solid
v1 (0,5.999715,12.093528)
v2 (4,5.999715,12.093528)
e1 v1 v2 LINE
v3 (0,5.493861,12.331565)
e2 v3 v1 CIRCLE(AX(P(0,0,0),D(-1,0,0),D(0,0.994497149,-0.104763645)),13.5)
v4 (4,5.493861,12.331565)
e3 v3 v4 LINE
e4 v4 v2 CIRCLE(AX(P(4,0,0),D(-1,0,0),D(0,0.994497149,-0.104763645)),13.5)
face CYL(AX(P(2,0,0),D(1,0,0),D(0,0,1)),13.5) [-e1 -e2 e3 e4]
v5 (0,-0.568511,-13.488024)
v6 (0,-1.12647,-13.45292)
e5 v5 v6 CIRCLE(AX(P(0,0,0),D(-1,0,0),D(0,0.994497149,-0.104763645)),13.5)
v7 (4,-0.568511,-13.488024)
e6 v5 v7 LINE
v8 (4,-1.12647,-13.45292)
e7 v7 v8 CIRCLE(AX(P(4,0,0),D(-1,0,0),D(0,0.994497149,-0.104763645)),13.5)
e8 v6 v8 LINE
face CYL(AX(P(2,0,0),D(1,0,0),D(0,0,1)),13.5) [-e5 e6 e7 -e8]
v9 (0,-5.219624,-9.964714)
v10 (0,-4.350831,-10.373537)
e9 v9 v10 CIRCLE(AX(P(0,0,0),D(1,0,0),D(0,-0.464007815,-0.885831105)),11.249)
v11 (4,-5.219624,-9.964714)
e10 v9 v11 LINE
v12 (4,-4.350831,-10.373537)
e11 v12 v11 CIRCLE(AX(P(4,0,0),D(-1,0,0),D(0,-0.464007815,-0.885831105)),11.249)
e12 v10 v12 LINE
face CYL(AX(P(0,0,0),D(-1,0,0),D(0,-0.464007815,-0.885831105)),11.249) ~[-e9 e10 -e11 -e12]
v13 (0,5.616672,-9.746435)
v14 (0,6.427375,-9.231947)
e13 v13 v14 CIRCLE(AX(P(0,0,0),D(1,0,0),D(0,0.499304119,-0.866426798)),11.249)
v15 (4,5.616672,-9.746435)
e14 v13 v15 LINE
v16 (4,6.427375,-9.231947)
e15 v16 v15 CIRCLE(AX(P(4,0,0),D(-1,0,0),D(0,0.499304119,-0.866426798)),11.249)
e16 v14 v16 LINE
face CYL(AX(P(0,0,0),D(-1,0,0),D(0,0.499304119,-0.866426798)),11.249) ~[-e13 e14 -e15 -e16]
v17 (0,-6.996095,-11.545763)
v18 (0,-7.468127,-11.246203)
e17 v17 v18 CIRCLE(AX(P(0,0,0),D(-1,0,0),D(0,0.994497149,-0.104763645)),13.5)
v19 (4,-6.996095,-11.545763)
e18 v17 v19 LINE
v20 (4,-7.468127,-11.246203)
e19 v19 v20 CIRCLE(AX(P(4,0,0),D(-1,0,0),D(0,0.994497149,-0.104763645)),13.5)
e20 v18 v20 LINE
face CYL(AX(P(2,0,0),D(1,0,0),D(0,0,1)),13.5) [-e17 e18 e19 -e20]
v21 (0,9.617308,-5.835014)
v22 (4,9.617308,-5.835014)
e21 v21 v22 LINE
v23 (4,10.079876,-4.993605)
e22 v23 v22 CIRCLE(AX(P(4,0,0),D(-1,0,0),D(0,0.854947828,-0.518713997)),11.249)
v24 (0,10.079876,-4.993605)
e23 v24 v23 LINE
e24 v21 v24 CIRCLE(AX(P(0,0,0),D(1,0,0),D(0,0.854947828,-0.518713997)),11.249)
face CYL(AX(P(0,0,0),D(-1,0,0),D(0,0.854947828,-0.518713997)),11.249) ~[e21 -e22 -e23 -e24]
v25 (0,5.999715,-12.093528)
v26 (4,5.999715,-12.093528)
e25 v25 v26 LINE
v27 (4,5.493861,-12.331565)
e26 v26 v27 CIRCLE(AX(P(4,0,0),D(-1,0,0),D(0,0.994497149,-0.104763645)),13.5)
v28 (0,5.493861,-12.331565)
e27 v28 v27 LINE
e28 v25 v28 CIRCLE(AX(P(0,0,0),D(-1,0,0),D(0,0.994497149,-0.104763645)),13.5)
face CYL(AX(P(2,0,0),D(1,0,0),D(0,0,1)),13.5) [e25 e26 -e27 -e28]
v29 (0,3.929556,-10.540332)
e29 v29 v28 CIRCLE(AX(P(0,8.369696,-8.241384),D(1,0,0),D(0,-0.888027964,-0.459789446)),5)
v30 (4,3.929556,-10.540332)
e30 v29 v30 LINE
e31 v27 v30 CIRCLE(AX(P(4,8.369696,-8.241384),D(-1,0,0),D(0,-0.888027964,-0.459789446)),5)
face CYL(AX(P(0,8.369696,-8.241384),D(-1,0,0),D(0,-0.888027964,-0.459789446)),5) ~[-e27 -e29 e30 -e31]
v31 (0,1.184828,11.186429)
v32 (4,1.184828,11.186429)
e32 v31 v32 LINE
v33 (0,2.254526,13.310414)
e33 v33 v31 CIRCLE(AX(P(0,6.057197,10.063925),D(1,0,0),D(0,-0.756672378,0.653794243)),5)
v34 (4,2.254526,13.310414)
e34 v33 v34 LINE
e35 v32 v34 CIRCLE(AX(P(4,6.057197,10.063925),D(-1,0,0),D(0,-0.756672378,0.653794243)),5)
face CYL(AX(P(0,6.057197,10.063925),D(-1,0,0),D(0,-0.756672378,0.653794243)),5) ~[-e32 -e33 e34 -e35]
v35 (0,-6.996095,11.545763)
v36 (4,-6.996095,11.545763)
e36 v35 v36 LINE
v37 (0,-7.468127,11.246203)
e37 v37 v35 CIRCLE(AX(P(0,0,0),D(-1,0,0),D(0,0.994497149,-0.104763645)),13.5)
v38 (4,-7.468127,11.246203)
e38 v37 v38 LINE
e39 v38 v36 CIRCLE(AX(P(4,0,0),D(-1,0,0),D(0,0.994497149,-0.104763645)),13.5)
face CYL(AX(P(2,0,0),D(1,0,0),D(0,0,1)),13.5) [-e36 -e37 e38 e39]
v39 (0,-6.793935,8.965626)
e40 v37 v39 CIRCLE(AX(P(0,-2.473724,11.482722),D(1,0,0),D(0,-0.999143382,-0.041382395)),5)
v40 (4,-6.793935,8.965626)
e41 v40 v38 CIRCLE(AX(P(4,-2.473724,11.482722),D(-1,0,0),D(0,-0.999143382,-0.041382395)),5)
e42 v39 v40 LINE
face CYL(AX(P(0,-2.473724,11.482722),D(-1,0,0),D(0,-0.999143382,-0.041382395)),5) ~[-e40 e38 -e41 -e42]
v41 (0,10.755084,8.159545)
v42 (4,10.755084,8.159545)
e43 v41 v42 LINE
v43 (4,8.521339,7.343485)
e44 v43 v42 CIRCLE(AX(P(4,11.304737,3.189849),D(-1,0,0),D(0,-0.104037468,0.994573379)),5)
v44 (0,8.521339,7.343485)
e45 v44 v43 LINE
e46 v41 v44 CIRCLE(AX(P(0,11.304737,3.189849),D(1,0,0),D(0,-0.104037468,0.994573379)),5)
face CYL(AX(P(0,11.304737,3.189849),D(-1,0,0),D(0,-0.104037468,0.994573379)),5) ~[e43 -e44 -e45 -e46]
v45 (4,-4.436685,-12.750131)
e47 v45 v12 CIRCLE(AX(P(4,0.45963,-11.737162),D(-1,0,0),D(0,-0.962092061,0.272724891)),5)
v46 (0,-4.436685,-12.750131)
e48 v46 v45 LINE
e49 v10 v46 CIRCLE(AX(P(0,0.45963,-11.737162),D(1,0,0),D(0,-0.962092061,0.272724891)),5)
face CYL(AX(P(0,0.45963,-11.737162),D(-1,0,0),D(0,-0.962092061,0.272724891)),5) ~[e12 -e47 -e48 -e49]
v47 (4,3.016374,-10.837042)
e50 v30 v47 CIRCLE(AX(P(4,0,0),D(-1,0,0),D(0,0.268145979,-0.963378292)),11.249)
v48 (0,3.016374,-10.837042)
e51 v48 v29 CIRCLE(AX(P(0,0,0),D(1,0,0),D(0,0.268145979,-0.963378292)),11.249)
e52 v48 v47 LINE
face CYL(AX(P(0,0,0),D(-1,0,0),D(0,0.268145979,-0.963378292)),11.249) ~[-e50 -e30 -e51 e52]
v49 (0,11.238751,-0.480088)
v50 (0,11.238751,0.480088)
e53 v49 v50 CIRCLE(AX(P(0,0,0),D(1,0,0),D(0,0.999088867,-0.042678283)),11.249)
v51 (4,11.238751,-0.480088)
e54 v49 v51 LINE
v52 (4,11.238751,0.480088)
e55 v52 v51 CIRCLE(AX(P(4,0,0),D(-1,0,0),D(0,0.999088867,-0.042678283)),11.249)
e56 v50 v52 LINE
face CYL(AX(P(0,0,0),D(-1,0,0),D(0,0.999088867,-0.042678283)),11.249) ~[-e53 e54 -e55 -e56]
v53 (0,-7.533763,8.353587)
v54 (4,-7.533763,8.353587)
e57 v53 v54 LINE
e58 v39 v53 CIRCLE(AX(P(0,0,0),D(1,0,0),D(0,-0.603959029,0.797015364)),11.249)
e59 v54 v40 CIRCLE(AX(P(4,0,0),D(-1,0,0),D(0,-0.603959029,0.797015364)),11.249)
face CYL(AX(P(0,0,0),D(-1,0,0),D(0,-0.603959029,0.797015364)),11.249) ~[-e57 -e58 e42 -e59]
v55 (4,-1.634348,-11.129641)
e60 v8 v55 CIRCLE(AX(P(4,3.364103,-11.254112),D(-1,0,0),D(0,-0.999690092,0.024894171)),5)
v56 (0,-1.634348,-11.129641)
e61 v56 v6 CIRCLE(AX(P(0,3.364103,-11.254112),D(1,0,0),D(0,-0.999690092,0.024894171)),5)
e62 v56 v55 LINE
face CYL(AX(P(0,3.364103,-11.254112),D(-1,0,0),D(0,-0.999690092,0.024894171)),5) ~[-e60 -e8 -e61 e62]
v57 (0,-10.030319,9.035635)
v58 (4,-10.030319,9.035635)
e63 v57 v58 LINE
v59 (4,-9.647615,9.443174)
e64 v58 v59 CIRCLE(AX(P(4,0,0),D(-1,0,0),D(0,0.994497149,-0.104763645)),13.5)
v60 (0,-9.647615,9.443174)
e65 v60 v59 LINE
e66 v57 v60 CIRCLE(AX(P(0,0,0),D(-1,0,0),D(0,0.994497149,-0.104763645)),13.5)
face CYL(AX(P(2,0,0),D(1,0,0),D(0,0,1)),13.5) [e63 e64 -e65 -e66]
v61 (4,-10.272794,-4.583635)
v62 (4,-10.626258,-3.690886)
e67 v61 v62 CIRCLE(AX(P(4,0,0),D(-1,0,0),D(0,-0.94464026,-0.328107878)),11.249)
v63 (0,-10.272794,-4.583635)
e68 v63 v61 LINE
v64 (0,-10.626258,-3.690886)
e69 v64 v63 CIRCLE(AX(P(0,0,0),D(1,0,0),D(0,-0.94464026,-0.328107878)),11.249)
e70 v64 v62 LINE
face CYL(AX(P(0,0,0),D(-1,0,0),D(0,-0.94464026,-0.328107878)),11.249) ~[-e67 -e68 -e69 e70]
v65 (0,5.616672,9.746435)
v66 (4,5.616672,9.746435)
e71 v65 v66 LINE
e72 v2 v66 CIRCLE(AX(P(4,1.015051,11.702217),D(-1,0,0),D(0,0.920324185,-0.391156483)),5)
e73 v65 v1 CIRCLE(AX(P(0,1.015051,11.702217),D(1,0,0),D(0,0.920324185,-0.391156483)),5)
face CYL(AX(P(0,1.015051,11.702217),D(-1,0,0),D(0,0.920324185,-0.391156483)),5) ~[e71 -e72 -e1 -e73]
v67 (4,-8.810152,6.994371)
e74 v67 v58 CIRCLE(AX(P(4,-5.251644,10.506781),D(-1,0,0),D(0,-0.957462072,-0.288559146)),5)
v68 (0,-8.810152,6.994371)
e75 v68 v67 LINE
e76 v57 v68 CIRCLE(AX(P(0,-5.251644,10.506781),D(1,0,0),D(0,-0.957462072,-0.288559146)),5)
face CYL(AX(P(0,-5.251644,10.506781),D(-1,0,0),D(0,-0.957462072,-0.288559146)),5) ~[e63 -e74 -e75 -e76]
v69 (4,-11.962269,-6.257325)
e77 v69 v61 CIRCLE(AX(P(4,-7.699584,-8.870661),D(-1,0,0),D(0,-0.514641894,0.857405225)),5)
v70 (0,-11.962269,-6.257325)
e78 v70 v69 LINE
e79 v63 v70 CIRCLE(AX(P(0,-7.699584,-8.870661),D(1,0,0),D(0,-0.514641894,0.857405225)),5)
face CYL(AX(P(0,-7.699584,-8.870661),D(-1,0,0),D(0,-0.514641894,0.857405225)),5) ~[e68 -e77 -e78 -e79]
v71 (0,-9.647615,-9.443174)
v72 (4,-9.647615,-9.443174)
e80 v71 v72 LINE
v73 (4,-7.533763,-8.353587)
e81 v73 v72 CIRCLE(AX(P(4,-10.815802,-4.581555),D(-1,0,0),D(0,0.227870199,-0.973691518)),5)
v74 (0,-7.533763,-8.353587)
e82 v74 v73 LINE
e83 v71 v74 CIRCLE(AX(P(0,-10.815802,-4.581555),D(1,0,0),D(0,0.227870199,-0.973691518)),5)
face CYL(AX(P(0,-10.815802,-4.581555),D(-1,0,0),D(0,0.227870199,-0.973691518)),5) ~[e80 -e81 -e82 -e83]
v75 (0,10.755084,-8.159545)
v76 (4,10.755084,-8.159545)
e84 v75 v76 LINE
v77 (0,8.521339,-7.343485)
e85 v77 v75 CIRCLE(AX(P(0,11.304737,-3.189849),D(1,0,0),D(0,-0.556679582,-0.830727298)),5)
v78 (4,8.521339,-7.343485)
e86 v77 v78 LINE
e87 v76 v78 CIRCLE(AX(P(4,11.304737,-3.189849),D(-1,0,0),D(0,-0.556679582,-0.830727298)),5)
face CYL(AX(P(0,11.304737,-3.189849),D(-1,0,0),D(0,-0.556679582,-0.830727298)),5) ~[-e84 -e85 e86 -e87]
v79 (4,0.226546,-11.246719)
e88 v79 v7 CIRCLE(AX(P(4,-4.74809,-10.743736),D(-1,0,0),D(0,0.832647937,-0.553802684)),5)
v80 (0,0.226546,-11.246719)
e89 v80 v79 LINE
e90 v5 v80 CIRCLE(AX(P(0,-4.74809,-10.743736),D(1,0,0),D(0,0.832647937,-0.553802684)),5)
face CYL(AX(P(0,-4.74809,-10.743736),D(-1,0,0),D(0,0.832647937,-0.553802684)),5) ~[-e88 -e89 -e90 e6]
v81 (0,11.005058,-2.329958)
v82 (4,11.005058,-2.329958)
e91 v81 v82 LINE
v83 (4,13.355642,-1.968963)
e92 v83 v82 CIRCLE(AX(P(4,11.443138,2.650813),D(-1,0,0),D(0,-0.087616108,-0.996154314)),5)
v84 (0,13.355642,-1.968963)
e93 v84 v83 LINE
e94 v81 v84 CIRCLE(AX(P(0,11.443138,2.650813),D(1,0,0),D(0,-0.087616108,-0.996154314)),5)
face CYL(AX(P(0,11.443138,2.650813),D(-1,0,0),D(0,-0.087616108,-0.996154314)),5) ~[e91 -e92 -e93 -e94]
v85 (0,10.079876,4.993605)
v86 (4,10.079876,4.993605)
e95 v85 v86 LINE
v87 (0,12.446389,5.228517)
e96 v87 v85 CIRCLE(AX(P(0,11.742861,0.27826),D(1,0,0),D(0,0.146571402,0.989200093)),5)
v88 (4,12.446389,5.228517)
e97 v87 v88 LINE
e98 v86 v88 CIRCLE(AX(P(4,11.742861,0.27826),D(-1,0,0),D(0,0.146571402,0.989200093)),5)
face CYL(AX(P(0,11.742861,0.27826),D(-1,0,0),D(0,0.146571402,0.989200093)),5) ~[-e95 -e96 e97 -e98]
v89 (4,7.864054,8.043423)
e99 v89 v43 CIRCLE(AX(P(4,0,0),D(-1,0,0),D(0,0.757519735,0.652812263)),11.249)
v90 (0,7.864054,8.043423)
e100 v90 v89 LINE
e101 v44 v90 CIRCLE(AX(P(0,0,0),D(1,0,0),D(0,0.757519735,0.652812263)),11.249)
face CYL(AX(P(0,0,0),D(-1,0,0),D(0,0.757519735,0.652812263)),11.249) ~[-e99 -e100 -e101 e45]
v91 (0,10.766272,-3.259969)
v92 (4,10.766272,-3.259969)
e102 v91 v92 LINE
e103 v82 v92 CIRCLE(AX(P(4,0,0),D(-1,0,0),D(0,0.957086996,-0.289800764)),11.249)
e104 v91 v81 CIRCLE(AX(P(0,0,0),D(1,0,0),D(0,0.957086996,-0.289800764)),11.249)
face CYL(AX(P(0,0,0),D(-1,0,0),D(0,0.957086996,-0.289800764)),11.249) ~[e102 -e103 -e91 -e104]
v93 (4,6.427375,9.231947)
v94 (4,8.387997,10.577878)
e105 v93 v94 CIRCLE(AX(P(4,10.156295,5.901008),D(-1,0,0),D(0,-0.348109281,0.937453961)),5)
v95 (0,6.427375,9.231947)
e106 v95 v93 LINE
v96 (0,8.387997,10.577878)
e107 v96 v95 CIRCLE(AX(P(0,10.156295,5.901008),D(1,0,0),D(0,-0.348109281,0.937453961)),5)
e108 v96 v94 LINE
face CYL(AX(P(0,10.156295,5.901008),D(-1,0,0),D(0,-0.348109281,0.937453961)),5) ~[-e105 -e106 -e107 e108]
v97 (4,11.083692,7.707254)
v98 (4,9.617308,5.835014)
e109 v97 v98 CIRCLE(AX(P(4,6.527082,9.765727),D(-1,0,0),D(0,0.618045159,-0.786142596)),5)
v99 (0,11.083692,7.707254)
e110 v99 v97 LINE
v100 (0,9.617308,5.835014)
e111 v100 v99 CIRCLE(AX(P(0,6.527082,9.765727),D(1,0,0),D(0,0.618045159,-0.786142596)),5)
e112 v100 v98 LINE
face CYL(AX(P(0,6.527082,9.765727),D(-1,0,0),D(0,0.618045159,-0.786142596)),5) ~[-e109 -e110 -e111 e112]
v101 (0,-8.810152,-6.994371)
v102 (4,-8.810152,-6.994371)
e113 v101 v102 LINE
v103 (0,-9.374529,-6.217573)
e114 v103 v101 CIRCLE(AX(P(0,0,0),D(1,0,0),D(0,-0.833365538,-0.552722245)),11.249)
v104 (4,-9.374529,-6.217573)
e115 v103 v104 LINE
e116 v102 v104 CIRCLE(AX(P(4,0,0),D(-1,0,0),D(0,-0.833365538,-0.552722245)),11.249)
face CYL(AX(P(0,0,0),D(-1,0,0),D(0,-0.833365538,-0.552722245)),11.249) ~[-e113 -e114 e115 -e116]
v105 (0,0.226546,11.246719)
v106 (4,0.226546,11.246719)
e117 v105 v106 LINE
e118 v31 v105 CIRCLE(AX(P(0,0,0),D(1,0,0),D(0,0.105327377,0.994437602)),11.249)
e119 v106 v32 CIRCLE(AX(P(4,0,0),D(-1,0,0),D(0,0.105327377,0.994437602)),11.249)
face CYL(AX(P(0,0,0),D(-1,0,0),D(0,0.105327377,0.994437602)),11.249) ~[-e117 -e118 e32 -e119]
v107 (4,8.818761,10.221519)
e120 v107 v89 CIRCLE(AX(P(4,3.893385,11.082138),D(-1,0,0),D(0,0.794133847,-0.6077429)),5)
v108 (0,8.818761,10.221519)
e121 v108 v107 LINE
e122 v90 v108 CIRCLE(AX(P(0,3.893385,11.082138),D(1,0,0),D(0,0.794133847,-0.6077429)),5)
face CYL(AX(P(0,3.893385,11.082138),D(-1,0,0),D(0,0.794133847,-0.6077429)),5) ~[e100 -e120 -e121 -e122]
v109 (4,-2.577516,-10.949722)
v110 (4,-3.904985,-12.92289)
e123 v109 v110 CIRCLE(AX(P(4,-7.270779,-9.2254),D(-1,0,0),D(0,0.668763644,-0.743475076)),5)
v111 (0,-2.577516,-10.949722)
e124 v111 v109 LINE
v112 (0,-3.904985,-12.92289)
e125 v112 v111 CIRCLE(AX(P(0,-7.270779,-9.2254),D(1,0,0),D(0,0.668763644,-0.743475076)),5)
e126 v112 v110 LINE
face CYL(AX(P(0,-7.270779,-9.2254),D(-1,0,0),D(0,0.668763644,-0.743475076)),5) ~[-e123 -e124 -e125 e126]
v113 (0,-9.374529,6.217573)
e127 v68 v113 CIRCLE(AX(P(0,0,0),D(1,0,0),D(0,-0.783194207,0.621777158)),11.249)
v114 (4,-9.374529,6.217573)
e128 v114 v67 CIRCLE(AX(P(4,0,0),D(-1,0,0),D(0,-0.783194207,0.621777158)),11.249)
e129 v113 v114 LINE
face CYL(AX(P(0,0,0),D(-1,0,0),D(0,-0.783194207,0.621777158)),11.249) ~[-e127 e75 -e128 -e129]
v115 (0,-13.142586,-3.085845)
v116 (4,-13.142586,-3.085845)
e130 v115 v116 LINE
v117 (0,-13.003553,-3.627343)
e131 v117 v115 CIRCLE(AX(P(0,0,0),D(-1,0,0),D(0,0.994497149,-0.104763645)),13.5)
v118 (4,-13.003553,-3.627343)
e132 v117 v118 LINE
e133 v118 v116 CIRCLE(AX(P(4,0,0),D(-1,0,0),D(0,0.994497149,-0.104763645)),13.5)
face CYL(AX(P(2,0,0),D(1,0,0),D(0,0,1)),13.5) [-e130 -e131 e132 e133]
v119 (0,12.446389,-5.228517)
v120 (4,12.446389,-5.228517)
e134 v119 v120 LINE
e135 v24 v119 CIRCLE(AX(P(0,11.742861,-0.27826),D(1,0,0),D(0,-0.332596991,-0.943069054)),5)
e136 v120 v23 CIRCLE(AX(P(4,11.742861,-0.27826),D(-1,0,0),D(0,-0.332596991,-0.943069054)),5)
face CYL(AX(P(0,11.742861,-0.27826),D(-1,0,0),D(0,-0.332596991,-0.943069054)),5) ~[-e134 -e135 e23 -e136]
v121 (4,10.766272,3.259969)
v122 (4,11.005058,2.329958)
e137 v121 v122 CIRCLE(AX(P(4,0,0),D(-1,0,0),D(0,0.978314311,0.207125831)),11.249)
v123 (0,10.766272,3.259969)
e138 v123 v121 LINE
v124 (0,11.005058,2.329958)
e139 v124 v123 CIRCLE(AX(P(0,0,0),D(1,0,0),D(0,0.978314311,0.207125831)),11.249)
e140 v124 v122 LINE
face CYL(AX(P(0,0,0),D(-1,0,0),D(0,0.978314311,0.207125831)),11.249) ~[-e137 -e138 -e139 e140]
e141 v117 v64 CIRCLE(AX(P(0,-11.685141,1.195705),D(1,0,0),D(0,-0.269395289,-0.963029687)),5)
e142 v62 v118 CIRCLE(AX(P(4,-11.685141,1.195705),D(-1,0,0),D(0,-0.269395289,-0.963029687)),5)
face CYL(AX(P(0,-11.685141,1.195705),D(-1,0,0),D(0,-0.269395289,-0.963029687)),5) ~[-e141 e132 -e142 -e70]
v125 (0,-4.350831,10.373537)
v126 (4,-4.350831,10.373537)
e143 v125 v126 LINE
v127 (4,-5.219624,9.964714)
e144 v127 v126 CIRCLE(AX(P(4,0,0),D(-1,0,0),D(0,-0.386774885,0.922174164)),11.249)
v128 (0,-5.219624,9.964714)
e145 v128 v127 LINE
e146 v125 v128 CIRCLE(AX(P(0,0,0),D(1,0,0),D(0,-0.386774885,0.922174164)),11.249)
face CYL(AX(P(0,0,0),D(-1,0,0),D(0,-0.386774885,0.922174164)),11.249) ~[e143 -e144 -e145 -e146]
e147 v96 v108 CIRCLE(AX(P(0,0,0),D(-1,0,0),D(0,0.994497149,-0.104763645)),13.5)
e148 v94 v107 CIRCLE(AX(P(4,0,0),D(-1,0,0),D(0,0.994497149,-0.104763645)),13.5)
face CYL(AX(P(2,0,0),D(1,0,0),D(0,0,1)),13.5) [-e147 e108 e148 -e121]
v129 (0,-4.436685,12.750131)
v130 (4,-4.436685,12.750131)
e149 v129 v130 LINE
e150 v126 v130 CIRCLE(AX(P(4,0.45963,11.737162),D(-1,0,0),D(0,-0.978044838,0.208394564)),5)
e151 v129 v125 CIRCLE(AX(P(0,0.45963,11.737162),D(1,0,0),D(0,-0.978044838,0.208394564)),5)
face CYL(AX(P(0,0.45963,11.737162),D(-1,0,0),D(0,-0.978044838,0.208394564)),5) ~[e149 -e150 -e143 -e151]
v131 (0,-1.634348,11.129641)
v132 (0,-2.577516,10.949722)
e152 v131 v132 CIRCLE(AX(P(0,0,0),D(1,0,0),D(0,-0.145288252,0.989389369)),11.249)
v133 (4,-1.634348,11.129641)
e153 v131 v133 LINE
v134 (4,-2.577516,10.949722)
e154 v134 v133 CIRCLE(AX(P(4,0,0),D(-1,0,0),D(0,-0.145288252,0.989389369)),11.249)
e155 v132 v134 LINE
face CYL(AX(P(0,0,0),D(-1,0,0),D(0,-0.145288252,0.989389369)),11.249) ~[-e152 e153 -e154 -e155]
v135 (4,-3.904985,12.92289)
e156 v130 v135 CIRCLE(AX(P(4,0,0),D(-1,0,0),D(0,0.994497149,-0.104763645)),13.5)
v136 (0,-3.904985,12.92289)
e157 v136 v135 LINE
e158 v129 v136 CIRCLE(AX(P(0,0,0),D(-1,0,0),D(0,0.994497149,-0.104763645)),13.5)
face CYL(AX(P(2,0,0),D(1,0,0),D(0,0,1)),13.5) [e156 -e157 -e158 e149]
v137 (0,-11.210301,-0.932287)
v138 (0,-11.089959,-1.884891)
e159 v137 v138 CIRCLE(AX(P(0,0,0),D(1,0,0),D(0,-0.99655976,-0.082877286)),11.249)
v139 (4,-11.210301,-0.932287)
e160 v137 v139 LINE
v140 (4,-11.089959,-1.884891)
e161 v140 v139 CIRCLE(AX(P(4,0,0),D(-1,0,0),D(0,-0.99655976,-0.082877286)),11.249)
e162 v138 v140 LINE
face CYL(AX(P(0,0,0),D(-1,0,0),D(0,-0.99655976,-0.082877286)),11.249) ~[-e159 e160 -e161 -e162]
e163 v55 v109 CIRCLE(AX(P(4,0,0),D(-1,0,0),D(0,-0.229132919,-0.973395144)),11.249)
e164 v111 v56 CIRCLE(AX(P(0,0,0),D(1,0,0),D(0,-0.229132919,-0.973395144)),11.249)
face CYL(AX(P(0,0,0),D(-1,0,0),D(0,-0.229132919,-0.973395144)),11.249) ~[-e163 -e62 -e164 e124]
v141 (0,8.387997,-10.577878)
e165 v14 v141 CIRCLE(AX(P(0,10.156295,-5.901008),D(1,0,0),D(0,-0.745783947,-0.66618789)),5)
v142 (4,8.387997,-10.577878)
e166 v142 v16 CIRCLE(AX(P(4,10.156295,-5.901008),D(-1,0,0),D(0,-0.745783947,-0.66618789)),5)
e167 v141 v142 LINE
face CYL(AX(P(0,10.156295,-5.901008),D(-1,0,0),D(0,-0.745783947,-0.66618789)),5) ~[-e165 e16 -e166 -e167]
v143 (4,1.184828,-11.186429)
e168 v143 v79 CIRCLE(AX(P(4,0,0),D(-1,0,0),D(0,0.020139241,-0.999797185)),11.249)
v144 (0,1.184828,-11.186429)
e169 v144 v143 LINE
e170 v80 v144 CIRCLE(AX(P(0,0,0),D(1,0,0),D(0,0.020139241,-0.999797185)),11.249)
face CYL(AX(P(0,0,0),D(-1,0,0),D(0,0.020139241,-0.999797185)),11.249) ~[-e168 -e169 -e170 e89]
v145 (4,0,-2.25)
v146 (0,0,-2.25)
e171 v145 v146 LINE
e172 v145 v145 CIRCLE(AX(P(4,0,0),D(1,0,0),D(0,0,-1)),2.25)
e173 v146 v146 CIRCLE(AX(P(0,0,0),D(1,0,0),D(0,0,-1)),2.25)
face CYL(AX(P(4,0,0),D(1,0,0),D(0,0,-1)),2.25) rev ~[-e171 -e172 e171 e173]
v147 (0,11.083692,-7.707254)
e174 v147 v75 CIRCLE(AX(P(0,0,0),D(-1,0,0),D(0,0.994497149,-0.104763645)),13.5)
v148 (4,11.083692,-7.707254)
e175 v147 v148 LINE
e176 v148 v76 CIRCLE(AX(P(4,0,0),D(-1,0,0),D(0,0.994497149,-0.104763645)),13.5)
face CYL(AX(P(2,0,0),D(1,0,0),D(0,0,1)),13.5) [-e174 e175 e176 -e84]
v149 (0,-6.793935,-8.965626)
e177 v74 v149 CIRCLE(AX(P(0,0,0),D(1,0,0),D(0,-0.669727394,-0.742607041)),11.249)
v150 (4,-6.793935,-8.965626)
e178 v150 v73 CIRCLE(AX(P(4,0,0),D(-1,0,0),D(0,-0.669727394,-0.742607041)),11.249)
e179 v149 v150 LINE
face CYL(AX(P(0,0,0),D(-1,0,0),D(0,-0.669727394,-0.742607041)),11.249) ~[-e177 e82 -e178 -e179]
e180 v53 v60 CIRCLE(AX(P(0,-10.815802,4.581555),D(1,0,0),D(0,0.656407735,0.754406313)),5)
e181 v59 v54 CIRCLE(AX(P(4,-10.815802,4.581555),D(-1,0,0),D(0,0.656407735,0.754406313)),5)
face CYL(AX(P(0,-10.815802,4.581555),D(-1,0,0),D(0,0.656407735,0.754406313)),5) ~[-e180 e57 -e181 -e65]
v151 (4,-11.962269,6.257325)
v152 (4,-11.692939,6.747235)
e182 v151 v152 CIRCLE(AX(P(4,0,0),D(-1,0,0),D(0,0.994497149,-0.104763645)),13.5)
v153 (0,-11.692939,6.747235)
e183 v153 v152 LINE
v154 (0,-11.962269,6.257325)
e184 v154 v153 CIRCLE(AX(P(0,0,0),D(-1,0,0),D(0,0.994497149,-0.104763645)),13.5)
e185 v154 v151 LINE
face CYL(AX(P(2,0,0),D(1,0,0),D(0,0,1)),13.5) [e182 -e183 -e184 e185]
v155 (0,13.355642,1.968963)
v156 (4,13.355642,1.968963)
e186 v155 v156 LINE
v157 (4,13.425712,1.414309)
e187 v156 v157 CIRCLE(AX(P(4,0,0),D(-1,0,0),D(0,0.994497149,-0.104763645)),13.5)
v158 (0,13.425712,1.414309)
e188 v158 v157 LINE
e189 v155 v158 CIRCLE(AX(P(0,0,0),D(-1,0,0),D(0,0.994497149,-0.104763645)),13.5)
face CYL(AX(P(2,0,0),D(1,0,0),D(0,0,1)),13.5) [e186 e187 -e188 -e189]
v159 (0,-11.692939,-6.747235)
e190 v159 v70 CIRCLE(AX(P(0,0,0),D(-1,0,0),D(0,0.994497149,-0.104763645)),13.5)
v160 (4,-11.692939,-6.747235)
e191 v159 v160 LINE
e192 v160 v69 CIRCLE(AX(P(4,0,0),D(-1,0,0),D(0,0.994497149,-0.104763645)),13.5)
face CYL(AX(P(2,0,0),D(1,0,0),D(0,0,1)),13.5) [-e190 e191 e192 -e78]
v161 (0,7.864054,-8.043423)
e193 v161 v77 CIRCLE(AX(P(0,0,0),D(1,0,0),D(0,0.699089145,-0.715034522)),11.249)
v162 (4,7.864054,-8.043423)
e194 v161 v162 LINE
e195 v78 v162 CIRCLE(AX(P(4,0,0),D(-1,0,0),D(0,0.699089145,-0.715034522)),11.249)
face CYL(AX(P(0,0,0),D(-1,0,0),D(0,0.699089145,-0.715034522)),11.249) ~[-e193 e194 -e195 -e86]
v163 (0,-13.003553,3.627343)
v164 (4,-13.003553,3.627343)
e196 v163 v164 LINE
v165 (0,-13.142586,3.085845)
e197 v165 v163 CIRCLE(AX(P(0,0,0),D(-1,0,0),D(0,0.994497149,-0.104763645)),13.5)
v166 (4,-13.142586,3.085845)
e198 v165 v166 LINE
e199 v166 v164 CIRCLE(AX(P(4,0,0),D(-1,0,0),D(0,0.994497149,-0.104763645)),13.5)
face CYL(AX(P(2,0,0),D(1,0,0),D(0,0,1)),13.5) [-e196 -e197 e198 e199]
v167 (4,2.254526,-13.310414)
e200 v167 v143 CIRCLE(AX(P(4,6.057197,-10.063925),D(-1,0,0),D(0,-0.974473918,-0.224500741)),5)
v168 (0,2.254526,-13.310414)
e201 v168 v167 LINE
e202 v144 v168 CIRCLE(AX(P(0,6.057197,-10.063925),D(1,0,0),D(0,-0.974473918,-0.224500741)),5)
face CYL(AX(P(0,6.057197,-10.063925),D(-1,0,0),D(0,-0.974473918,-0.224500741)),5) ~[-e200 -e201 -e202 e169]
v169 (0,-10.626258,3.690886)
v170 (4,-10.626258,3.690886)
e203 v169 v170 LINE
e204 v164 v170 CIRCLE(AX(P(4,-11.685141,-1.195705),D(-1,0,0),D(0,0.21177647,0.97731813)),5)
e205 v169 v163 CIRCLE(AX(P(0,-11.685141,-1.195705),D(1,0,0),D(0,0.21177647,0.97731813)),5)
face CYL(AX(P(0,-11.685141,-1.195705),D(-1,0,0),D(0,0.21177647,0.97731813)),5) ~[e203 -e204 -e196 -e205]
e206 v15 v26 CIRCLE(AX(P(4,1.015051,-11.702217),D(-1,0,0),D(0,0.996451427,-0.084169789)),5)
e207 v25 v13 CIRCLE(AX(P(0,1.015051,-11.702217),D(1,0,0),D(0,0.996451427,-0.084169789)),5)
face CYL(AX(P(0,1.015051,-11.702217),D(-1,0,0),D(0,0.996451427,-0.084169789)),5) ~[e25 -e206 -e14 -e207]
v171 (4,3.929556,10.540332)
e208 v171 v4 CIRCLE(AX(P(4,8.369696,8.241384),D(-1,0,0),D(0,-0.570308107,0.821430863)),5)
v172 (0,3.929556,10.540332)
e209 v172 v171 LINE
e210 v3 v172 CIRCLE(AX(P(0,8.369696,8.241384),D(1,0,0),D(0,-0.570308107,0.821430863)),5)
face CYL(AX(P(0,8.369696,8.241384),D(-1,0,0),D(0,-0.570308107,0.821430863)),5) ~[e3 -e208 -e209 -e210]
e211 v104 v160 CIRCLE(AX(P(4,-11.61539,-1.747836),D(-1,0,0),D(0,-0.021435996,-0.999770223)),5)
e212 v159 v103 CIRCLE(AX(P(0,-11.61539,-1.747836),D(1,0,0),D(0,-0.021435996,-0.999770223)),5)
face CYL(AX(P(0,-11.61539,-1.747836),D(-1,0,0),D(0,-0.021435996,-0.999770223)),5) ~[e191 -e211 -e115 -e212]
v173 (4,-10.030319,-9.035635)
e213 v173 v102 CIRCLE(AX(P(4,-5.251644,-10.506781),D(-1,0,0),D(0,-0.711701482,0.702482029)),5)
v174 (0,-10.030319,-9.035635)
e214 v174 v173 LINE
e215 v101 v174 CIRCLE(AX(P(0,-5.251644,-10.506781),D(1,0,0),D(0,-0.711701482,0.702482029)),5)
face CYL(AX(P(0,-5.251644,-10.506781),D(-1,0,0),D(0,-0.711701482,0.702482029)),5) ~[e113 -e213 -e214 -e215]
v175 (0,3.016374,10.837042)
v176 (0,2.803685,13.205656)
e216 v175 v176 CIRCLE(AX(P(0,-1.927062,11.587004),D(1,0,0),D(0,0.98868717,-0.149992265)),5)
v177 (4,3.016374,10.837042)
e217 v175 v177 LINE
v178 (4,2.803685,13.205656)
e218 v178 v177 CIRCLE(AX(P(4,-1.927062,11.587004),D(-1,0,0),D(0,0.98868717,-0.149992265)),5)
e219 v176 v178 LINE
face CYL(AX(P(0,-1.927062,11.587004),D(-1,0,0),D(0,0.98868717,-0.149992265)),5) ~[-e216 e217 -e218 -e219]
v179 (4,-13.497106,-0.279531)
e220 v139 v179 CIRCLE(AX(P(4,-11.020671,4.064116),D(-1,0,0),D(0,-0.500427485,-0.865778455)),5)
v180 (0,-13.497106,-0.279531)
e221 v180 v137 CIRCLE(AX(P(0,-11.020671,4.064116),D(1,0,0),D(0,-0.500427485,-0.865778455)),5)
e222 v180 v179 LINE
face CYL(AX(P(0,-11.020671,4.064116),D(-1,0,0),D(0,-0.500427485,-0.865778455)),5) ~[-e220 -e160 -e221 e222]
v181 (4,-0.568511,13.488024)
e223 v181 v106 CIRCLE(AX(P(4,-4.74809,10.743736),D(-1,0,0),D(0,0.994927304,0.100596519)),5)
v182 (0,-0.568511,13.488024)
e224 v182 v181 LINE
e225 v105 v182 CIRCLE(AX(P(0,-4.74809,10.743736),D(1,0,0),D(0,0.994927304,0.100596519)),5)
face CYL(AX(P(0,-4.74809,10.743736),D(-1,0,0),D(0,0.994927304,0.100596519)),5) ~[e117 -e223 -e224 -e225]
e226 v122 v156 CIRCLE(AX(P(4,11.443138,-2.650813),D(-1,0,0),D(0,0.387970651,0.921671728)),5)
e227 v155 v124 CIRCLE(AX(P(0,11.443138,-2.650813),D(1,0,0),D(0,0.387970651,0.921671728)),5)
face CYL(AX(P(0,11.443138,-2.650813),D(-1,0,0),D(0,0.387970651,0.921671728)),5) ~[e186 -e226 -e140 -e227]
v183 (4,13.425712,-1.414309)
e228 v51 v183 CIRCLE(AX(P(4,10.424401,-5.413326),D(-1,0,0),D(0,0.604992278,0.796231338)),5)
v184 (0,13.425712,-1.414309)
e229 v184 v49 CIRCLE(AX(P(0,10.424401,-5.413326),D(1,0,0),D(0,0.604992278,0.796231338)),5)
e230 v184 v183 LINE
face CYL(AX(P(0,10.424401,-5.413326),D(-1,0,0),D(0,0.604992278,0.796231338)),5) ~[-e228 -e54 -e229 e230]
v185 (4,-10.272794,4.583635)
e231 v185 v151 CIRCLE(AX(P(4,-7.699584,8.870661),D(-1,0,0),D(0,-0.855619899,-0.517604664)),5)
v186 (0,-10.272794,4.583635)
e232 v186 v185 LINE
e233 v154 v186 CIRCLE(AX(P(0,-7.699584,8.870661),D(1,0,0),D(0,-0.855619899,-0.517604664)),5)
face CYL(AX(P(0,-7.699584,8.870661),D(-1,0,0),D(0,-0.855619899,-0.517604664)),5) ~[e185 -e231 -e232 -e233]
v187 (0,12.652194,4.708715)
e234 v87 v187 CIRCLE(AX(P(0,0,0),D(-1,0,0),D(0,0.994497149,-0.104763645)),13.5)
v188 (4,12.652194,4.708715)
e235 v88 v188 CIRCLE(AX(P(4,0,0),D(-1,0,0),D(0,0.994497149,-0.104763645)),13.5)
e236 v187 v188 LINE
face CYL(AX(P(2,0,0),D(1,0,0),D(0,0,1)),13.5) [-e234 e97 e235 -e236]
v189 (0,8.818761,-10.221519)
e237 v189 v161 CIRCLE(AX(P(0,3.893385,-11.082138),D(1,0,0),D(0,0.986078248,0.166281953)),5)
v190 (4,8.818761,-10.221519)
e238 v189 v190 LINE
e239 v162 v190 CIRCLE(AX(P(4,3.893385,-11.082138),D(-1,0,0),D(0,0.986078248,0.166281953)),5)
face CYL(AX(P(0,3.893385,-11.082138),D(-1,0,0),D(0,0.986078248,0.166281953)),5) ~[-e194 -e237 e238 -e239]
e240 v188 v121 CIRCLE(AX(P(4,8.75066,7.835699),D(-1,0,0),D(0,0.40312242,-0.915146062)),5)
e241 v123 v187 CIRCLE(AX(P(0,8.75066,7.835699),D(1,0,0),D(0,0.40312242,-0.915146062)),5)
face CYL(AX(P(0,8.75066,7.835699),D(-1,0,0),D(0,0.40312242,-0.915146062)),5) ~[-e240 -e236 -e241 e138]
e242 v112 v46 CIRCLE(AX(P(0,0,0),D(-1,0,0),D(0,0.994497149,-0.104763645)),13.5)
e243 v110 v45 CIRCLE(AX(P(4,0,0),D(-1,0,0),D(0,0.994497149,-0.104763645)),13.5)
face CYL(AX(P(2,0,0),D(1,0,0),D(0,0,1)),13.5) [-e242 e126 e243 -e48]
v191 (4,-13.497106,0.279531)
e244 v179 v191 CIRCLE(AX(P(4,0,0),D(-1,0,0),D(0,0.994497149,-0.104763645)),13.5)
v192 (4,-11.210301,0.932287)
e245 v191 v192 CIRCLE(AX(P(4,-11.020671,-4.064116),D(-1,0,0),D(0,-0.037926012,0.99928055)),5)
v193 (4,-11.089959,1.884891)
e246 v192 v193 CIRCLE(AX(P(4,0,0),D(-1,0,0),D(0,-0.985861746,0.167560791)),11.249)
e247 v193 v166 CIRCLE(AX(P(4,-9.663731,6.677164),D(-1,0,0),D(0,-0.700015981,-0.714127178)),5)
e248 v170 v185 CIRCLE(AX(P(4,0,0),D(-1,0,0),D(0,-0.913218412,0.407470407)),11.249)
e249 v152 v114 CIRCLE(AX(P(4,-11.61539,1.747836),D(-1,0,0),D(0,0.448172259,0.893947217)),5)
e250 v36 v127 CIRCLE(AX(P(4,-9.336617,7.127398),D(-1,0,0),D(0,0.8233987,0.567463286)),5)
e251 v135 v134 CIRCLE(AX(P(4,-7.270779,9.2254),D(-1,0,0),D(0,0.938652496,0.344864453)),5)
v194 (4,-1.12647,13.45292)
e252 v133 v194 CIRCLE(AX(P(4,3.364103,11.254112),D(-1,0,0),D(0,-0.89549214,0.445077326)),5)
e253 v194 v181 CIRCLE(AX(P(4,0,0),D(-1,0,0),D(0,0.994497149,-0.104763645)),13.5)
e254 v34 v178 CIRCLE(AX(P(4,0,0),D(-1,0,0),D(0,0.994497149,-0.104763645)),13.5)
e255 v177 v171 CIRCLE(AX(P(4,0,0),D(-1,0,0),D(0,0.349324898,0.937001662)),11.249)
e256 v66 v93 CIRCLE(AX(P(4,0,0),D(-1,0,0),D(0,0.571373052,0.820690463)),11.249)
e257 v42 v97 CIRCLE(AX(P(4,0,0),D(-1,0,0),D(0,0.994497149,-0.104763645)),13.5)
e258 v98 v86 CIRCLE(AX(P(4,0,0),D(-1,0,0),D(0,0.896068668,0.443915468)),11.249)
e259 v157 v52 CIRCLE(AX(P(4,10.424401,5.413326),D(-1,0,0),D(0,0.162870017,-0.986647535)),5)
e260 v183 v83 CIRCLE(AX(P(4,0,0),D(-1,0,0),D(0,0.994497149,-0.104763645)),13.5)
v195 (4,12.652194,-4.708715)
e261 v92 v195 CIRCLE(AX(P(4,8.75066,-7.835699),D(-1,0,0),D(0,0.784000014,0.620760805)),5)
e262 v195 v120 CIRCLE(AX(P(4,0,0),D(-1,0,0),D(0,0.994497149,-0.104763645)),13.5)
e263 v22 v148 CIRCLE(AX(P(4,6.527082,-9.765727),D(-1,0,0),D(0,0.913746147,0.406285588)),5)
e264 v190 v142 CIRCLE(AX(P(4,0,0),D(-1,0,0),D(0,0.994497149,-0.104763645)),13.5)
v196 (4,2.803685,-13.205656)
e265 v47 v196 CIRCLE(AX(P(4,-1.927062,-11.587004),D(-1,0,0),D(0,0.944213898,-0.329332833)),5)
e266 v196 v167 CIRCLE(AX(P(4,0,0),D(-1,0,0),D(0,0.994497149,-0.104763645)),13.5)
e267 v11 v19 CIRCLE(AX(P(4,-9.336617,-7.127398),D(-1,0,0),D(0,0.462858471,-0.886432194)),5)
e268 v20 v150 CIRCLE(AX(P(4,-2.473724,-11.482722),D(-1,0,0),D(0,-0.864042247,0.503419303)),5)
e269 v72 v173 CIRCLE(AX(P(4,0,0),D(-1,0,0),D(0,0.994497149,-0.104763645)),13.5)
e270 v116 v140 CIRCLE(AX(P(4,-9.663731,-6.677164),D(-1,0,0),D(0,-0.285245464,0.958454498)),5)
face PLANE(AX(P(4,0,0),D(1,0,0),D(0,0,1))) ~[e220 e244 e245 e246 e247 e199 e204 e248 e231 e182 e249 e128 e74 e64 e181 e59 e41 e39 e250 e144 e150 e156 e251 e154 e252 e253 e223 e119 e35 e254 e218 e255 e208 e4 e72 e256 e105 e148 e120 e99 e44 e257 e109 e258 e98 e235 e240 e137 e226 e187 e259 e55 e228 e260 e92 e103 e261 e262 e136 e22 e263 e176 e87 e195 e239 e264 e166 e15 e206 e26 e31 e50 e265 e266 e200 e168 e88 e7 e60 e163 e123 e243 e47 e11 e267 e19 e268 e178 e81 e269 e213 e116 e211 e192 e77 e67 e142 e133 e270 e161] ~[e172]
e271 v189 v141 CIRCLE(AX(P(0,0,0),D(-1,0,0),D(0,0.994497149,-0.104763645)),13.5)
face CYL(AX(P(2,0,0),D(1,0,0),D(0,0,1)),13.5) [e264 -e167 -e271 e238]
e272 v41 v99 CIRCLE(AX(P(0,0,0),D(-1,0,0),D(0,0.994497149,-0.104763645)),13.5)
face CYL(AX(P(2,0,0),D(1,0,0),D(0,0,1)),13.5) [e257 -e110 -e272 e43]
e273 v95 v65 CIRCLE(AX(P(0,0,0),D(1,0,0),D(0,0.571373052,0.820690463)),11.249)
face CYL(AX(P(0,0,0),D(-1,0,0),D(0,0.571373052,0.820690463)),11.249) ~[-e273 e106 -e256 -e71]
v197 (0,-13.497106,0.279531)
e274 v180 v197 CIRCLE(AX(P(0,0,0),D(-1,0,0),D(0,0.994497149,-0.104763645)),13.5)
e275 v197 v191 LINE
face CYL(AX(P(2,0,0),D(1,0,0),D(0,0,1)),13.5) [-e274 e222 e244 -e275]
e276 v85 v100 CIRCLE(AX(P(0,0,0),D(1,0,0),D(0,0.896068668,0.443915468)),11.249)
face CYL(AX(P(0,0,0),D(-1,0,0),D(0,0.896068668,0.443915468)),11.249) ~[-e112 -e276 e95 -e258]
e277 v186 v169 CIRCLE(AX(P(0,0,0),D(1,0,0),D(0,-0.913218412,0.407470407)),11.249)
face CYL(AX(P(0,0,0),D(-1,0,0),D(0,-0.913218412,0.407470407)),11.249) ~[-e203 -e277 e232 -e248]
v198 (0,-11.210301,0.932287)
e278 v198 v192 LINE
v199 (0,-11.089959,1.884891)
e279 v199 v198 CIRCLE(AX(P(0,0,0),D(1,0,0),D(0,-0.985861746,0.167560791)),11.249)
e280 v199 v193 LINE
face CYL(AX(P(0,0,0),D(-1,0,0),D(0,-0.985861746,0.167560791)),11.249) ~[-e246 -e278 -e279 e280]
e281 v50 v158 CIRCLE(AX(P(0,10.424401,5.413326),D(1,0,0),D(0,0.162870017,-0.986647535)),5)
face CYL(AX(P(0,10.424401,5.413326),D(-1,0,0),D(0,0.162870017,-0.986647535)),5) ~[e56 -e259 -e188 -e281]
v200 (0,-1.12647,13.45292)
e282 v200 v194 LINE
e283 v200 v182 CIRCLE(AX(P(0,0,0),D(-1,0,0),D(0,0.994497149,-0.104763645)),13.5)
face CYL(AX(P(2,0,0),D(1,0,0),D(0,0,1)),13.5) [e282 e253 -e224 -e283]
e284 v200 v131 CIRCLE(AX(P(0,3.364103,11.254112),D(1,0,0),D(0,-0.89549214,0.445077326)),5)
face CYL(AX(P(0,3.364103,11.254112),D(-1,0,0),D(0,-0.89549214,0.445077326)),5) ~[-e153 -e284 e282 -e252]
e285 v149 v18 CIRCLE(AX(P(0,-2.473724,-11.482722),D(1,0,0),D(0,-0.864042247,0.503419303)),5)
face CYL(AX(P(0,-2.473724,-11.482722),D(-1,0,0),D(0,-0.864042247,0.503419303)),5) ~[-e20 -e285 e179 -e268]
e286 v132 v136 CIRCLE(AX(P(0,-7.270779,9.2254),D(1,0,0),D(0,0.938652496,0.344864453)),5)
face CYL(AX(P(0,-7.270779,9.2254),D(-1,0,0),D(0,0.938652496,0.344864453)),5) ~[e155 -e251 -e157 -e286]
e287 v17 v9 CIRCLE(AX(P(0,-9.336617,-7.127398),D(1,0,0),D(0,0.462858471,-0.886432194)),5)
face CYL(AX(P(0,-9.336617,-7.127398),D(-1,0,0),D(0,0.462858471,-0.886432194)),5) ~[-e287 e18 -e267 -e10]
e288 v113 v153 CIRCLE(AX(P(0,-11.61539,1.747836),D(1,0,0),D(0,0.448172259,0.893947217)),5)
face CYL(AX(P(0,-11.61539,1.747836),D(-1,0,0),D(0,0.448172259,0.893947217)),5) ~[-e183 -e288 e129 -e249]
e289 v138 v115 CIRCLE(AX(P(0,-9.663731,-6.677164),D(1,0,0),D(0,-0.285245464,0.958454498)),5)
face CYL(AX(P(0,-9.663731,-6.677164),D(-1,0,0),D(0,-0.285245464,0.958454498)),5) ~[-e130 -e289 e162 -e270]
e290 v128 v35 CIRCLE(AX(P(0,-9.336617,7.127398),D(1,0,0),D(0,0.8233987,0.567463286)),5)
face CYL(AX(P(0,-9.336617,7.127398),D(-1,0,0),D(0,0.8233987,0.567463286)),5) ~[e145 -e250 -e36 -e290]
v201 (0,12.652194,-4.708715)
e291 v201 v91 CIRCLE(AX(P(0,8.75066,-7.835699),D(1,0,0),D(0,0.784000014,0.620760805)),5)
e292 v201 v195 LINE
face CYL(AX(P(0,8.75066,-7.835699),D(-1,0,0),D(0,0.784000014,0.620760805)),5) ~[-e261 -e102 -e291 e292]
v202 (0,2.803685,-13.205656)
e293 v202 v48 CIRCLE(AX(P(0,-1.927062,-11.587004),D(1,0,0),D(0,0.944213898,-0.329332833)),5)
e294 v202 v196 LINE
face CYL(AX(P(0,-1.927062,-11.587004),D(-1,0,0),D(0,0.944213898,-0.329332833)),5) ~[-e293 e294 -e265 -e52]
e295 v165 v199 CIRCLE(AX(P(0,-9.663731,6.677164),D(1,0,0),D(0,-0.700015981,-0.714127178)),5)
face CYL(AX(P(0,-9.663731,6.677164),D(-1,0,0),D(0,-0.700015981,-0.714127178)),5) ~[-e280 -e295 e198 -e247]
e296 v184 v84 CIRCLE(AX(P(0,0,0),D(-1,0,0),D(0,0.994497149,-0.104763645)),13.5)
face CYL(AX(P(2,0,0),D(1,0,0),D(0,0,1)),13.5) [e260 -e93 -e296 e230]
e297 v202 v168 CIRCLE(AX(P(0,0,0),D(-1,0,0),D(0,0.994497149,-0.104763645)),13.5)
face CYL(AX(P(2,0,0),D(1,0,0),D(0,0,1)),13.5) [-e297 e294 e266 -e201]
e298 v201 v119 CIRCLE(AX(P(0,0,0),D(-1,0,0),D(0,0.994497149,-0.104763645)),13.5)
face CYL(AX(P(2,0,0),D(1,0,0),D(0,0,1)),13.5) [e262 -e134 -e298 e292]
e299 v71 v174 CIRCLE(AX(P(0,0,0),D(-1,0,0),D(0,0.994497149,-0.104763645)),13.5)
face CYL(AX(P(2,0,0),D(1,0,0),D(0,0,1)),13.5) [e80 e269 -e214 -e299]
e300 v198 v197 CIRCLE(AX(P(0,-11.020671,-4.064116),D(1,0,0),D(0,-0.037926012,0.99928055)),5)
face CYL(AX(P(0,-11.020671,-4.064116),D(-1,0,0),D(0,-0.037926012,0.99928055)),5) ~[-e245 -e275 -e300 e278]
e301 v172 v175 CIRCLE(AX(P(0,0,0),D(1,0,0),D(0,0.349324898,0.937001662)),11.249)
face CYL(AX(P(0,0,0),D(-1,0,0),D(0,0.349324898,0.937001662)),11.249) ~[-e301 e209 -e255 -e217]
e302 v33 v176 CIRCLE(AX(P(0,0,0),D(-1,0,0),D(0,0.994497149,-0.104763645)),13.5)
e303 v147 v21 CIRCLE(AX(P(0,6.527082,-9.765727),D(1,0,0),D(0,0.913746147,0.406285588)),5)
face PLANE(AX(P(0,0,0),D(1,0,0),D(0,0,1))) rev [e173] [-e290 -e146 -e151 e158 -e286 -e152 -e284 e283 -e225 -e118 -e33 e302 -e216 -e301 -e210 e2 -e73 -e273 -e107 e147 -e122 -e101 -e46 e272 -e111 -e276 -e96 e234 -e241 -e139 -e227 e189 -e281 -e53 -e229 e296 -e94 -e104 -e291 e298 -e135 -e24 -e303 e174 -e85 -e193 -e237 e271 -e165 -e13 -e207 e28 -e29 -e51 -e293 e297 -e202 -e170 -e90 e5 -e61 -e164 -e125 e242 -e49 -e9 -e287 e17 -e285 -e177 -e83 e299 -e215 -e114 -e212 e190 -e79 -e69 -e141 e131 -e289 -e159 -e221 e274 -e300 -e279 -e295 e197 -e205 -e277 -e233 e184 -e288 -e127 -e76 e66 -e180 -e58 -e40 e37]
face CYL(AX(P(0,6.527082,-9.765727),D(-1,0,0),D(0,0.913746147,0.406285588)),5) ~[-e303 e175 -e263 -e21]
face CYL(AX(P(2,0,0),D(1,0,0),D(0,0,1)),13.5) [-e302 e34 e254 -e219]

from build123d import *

# Parameters (mm, degrees)
BASPROSKE_W        = 4
BASPROSKE_H        = 13.5
TOOTHCUT_DEPTH     = 20.506409203
TEETHCUTS_COUNT    = 25
TEETHCUTS_ANGLE    = 345.6
BORSKE_R           = 0.4
BORE_DEPTH         = 50.0000508
SKETCH1_R          = 2.25
CUT_EXTRUDE1_DEPTH = 20.498122865


with BuildPart() as part:
    # BasProSke → Base-Revolve (revolve)
    with BuildSketch(Plane(origin=(0, 0, 0), x_dir=(1, 0, 0), z_dir=(0, 1, 0)), mode=Mode.PRIVATE) as base_revolve_sk:
        with Locations((2, 6.75)):
            Rectangle(BASPROSKE_W, BASPROSKE_H)
    revolve(base_revolve_sk.sketch.rotate(Axis((-10, 0, 0), (1, 0, 0)), 180), axis=Axis((-10, 0, 0), (1, 0, 0)))

    # TooCutSke → ToothCut (cut, through all)
    with BuildSketch(Plane(origin=(0, 0, 0), x_dir=(0, 0, -1), z_dir=(1, 0, 0))):
        with BuildLine():
            ThreePointArc((0.480087995, 11.238750665), (0, 11.249), (-0.480087995, 11.238750665))
            ThreePointArc((-0.480087995, 11.238750665), (-0.821124963, 12.40220054), (-1.432168974, 13.449361962))
            ThreePointArc((-1.432168974, 13.449361962), (0, 13.5254), (1.432168974, 13.449361962))
            ThreePointArc((1.432168974, 13.449361962), (0.821124963, 12.40220054), (0.480087995, 11.238750665))
        make_face()
    toothcut = extrude(amount=TOOTHCUT_DEPTH, mode=Mode.SUBTRACT)

    # TeethCuts: ToothCut ×25 about axis
    teethcuts_axis = Axis((-10, 0, 0), (1, 0, 0))
    for i in range(1, TEETHCUTS_COUNT):
        add(toothcut.rotate(teethcuts_axis, i * TEETHCUTS_ANGLE / (TEETHCUTS_COUNT - 1)), mode=Mode.SUBTRACT)

    # BorSke → Bore (cut, symmetric)
    with BuildSketch(Plane(origin=(0, 0, 0), x_dir=(0, 0, -1), z_dir=(1, 0, 0))):
        with Locations(Location((0, 0, 0), (0, 0, 180))):
            Circle(BORSKE_R)
    extrude(amount=BORE_DEPTH, both=True, mode=Mode.SUBTRACT)

    # Sketch1 → Cut-Extrude1 (cut, through all)
    with BuildSketch(Plane(origin=(4, 0, 0), x_dir=(0, 0, -1), z_dir=(1, 0, 0))):
        Circle(SKETCH1_R)
    extrude(amount=-CUT_EXTRUDE1_DEPTH, mode=Mode.SUBTRACT)


solid = part.part
